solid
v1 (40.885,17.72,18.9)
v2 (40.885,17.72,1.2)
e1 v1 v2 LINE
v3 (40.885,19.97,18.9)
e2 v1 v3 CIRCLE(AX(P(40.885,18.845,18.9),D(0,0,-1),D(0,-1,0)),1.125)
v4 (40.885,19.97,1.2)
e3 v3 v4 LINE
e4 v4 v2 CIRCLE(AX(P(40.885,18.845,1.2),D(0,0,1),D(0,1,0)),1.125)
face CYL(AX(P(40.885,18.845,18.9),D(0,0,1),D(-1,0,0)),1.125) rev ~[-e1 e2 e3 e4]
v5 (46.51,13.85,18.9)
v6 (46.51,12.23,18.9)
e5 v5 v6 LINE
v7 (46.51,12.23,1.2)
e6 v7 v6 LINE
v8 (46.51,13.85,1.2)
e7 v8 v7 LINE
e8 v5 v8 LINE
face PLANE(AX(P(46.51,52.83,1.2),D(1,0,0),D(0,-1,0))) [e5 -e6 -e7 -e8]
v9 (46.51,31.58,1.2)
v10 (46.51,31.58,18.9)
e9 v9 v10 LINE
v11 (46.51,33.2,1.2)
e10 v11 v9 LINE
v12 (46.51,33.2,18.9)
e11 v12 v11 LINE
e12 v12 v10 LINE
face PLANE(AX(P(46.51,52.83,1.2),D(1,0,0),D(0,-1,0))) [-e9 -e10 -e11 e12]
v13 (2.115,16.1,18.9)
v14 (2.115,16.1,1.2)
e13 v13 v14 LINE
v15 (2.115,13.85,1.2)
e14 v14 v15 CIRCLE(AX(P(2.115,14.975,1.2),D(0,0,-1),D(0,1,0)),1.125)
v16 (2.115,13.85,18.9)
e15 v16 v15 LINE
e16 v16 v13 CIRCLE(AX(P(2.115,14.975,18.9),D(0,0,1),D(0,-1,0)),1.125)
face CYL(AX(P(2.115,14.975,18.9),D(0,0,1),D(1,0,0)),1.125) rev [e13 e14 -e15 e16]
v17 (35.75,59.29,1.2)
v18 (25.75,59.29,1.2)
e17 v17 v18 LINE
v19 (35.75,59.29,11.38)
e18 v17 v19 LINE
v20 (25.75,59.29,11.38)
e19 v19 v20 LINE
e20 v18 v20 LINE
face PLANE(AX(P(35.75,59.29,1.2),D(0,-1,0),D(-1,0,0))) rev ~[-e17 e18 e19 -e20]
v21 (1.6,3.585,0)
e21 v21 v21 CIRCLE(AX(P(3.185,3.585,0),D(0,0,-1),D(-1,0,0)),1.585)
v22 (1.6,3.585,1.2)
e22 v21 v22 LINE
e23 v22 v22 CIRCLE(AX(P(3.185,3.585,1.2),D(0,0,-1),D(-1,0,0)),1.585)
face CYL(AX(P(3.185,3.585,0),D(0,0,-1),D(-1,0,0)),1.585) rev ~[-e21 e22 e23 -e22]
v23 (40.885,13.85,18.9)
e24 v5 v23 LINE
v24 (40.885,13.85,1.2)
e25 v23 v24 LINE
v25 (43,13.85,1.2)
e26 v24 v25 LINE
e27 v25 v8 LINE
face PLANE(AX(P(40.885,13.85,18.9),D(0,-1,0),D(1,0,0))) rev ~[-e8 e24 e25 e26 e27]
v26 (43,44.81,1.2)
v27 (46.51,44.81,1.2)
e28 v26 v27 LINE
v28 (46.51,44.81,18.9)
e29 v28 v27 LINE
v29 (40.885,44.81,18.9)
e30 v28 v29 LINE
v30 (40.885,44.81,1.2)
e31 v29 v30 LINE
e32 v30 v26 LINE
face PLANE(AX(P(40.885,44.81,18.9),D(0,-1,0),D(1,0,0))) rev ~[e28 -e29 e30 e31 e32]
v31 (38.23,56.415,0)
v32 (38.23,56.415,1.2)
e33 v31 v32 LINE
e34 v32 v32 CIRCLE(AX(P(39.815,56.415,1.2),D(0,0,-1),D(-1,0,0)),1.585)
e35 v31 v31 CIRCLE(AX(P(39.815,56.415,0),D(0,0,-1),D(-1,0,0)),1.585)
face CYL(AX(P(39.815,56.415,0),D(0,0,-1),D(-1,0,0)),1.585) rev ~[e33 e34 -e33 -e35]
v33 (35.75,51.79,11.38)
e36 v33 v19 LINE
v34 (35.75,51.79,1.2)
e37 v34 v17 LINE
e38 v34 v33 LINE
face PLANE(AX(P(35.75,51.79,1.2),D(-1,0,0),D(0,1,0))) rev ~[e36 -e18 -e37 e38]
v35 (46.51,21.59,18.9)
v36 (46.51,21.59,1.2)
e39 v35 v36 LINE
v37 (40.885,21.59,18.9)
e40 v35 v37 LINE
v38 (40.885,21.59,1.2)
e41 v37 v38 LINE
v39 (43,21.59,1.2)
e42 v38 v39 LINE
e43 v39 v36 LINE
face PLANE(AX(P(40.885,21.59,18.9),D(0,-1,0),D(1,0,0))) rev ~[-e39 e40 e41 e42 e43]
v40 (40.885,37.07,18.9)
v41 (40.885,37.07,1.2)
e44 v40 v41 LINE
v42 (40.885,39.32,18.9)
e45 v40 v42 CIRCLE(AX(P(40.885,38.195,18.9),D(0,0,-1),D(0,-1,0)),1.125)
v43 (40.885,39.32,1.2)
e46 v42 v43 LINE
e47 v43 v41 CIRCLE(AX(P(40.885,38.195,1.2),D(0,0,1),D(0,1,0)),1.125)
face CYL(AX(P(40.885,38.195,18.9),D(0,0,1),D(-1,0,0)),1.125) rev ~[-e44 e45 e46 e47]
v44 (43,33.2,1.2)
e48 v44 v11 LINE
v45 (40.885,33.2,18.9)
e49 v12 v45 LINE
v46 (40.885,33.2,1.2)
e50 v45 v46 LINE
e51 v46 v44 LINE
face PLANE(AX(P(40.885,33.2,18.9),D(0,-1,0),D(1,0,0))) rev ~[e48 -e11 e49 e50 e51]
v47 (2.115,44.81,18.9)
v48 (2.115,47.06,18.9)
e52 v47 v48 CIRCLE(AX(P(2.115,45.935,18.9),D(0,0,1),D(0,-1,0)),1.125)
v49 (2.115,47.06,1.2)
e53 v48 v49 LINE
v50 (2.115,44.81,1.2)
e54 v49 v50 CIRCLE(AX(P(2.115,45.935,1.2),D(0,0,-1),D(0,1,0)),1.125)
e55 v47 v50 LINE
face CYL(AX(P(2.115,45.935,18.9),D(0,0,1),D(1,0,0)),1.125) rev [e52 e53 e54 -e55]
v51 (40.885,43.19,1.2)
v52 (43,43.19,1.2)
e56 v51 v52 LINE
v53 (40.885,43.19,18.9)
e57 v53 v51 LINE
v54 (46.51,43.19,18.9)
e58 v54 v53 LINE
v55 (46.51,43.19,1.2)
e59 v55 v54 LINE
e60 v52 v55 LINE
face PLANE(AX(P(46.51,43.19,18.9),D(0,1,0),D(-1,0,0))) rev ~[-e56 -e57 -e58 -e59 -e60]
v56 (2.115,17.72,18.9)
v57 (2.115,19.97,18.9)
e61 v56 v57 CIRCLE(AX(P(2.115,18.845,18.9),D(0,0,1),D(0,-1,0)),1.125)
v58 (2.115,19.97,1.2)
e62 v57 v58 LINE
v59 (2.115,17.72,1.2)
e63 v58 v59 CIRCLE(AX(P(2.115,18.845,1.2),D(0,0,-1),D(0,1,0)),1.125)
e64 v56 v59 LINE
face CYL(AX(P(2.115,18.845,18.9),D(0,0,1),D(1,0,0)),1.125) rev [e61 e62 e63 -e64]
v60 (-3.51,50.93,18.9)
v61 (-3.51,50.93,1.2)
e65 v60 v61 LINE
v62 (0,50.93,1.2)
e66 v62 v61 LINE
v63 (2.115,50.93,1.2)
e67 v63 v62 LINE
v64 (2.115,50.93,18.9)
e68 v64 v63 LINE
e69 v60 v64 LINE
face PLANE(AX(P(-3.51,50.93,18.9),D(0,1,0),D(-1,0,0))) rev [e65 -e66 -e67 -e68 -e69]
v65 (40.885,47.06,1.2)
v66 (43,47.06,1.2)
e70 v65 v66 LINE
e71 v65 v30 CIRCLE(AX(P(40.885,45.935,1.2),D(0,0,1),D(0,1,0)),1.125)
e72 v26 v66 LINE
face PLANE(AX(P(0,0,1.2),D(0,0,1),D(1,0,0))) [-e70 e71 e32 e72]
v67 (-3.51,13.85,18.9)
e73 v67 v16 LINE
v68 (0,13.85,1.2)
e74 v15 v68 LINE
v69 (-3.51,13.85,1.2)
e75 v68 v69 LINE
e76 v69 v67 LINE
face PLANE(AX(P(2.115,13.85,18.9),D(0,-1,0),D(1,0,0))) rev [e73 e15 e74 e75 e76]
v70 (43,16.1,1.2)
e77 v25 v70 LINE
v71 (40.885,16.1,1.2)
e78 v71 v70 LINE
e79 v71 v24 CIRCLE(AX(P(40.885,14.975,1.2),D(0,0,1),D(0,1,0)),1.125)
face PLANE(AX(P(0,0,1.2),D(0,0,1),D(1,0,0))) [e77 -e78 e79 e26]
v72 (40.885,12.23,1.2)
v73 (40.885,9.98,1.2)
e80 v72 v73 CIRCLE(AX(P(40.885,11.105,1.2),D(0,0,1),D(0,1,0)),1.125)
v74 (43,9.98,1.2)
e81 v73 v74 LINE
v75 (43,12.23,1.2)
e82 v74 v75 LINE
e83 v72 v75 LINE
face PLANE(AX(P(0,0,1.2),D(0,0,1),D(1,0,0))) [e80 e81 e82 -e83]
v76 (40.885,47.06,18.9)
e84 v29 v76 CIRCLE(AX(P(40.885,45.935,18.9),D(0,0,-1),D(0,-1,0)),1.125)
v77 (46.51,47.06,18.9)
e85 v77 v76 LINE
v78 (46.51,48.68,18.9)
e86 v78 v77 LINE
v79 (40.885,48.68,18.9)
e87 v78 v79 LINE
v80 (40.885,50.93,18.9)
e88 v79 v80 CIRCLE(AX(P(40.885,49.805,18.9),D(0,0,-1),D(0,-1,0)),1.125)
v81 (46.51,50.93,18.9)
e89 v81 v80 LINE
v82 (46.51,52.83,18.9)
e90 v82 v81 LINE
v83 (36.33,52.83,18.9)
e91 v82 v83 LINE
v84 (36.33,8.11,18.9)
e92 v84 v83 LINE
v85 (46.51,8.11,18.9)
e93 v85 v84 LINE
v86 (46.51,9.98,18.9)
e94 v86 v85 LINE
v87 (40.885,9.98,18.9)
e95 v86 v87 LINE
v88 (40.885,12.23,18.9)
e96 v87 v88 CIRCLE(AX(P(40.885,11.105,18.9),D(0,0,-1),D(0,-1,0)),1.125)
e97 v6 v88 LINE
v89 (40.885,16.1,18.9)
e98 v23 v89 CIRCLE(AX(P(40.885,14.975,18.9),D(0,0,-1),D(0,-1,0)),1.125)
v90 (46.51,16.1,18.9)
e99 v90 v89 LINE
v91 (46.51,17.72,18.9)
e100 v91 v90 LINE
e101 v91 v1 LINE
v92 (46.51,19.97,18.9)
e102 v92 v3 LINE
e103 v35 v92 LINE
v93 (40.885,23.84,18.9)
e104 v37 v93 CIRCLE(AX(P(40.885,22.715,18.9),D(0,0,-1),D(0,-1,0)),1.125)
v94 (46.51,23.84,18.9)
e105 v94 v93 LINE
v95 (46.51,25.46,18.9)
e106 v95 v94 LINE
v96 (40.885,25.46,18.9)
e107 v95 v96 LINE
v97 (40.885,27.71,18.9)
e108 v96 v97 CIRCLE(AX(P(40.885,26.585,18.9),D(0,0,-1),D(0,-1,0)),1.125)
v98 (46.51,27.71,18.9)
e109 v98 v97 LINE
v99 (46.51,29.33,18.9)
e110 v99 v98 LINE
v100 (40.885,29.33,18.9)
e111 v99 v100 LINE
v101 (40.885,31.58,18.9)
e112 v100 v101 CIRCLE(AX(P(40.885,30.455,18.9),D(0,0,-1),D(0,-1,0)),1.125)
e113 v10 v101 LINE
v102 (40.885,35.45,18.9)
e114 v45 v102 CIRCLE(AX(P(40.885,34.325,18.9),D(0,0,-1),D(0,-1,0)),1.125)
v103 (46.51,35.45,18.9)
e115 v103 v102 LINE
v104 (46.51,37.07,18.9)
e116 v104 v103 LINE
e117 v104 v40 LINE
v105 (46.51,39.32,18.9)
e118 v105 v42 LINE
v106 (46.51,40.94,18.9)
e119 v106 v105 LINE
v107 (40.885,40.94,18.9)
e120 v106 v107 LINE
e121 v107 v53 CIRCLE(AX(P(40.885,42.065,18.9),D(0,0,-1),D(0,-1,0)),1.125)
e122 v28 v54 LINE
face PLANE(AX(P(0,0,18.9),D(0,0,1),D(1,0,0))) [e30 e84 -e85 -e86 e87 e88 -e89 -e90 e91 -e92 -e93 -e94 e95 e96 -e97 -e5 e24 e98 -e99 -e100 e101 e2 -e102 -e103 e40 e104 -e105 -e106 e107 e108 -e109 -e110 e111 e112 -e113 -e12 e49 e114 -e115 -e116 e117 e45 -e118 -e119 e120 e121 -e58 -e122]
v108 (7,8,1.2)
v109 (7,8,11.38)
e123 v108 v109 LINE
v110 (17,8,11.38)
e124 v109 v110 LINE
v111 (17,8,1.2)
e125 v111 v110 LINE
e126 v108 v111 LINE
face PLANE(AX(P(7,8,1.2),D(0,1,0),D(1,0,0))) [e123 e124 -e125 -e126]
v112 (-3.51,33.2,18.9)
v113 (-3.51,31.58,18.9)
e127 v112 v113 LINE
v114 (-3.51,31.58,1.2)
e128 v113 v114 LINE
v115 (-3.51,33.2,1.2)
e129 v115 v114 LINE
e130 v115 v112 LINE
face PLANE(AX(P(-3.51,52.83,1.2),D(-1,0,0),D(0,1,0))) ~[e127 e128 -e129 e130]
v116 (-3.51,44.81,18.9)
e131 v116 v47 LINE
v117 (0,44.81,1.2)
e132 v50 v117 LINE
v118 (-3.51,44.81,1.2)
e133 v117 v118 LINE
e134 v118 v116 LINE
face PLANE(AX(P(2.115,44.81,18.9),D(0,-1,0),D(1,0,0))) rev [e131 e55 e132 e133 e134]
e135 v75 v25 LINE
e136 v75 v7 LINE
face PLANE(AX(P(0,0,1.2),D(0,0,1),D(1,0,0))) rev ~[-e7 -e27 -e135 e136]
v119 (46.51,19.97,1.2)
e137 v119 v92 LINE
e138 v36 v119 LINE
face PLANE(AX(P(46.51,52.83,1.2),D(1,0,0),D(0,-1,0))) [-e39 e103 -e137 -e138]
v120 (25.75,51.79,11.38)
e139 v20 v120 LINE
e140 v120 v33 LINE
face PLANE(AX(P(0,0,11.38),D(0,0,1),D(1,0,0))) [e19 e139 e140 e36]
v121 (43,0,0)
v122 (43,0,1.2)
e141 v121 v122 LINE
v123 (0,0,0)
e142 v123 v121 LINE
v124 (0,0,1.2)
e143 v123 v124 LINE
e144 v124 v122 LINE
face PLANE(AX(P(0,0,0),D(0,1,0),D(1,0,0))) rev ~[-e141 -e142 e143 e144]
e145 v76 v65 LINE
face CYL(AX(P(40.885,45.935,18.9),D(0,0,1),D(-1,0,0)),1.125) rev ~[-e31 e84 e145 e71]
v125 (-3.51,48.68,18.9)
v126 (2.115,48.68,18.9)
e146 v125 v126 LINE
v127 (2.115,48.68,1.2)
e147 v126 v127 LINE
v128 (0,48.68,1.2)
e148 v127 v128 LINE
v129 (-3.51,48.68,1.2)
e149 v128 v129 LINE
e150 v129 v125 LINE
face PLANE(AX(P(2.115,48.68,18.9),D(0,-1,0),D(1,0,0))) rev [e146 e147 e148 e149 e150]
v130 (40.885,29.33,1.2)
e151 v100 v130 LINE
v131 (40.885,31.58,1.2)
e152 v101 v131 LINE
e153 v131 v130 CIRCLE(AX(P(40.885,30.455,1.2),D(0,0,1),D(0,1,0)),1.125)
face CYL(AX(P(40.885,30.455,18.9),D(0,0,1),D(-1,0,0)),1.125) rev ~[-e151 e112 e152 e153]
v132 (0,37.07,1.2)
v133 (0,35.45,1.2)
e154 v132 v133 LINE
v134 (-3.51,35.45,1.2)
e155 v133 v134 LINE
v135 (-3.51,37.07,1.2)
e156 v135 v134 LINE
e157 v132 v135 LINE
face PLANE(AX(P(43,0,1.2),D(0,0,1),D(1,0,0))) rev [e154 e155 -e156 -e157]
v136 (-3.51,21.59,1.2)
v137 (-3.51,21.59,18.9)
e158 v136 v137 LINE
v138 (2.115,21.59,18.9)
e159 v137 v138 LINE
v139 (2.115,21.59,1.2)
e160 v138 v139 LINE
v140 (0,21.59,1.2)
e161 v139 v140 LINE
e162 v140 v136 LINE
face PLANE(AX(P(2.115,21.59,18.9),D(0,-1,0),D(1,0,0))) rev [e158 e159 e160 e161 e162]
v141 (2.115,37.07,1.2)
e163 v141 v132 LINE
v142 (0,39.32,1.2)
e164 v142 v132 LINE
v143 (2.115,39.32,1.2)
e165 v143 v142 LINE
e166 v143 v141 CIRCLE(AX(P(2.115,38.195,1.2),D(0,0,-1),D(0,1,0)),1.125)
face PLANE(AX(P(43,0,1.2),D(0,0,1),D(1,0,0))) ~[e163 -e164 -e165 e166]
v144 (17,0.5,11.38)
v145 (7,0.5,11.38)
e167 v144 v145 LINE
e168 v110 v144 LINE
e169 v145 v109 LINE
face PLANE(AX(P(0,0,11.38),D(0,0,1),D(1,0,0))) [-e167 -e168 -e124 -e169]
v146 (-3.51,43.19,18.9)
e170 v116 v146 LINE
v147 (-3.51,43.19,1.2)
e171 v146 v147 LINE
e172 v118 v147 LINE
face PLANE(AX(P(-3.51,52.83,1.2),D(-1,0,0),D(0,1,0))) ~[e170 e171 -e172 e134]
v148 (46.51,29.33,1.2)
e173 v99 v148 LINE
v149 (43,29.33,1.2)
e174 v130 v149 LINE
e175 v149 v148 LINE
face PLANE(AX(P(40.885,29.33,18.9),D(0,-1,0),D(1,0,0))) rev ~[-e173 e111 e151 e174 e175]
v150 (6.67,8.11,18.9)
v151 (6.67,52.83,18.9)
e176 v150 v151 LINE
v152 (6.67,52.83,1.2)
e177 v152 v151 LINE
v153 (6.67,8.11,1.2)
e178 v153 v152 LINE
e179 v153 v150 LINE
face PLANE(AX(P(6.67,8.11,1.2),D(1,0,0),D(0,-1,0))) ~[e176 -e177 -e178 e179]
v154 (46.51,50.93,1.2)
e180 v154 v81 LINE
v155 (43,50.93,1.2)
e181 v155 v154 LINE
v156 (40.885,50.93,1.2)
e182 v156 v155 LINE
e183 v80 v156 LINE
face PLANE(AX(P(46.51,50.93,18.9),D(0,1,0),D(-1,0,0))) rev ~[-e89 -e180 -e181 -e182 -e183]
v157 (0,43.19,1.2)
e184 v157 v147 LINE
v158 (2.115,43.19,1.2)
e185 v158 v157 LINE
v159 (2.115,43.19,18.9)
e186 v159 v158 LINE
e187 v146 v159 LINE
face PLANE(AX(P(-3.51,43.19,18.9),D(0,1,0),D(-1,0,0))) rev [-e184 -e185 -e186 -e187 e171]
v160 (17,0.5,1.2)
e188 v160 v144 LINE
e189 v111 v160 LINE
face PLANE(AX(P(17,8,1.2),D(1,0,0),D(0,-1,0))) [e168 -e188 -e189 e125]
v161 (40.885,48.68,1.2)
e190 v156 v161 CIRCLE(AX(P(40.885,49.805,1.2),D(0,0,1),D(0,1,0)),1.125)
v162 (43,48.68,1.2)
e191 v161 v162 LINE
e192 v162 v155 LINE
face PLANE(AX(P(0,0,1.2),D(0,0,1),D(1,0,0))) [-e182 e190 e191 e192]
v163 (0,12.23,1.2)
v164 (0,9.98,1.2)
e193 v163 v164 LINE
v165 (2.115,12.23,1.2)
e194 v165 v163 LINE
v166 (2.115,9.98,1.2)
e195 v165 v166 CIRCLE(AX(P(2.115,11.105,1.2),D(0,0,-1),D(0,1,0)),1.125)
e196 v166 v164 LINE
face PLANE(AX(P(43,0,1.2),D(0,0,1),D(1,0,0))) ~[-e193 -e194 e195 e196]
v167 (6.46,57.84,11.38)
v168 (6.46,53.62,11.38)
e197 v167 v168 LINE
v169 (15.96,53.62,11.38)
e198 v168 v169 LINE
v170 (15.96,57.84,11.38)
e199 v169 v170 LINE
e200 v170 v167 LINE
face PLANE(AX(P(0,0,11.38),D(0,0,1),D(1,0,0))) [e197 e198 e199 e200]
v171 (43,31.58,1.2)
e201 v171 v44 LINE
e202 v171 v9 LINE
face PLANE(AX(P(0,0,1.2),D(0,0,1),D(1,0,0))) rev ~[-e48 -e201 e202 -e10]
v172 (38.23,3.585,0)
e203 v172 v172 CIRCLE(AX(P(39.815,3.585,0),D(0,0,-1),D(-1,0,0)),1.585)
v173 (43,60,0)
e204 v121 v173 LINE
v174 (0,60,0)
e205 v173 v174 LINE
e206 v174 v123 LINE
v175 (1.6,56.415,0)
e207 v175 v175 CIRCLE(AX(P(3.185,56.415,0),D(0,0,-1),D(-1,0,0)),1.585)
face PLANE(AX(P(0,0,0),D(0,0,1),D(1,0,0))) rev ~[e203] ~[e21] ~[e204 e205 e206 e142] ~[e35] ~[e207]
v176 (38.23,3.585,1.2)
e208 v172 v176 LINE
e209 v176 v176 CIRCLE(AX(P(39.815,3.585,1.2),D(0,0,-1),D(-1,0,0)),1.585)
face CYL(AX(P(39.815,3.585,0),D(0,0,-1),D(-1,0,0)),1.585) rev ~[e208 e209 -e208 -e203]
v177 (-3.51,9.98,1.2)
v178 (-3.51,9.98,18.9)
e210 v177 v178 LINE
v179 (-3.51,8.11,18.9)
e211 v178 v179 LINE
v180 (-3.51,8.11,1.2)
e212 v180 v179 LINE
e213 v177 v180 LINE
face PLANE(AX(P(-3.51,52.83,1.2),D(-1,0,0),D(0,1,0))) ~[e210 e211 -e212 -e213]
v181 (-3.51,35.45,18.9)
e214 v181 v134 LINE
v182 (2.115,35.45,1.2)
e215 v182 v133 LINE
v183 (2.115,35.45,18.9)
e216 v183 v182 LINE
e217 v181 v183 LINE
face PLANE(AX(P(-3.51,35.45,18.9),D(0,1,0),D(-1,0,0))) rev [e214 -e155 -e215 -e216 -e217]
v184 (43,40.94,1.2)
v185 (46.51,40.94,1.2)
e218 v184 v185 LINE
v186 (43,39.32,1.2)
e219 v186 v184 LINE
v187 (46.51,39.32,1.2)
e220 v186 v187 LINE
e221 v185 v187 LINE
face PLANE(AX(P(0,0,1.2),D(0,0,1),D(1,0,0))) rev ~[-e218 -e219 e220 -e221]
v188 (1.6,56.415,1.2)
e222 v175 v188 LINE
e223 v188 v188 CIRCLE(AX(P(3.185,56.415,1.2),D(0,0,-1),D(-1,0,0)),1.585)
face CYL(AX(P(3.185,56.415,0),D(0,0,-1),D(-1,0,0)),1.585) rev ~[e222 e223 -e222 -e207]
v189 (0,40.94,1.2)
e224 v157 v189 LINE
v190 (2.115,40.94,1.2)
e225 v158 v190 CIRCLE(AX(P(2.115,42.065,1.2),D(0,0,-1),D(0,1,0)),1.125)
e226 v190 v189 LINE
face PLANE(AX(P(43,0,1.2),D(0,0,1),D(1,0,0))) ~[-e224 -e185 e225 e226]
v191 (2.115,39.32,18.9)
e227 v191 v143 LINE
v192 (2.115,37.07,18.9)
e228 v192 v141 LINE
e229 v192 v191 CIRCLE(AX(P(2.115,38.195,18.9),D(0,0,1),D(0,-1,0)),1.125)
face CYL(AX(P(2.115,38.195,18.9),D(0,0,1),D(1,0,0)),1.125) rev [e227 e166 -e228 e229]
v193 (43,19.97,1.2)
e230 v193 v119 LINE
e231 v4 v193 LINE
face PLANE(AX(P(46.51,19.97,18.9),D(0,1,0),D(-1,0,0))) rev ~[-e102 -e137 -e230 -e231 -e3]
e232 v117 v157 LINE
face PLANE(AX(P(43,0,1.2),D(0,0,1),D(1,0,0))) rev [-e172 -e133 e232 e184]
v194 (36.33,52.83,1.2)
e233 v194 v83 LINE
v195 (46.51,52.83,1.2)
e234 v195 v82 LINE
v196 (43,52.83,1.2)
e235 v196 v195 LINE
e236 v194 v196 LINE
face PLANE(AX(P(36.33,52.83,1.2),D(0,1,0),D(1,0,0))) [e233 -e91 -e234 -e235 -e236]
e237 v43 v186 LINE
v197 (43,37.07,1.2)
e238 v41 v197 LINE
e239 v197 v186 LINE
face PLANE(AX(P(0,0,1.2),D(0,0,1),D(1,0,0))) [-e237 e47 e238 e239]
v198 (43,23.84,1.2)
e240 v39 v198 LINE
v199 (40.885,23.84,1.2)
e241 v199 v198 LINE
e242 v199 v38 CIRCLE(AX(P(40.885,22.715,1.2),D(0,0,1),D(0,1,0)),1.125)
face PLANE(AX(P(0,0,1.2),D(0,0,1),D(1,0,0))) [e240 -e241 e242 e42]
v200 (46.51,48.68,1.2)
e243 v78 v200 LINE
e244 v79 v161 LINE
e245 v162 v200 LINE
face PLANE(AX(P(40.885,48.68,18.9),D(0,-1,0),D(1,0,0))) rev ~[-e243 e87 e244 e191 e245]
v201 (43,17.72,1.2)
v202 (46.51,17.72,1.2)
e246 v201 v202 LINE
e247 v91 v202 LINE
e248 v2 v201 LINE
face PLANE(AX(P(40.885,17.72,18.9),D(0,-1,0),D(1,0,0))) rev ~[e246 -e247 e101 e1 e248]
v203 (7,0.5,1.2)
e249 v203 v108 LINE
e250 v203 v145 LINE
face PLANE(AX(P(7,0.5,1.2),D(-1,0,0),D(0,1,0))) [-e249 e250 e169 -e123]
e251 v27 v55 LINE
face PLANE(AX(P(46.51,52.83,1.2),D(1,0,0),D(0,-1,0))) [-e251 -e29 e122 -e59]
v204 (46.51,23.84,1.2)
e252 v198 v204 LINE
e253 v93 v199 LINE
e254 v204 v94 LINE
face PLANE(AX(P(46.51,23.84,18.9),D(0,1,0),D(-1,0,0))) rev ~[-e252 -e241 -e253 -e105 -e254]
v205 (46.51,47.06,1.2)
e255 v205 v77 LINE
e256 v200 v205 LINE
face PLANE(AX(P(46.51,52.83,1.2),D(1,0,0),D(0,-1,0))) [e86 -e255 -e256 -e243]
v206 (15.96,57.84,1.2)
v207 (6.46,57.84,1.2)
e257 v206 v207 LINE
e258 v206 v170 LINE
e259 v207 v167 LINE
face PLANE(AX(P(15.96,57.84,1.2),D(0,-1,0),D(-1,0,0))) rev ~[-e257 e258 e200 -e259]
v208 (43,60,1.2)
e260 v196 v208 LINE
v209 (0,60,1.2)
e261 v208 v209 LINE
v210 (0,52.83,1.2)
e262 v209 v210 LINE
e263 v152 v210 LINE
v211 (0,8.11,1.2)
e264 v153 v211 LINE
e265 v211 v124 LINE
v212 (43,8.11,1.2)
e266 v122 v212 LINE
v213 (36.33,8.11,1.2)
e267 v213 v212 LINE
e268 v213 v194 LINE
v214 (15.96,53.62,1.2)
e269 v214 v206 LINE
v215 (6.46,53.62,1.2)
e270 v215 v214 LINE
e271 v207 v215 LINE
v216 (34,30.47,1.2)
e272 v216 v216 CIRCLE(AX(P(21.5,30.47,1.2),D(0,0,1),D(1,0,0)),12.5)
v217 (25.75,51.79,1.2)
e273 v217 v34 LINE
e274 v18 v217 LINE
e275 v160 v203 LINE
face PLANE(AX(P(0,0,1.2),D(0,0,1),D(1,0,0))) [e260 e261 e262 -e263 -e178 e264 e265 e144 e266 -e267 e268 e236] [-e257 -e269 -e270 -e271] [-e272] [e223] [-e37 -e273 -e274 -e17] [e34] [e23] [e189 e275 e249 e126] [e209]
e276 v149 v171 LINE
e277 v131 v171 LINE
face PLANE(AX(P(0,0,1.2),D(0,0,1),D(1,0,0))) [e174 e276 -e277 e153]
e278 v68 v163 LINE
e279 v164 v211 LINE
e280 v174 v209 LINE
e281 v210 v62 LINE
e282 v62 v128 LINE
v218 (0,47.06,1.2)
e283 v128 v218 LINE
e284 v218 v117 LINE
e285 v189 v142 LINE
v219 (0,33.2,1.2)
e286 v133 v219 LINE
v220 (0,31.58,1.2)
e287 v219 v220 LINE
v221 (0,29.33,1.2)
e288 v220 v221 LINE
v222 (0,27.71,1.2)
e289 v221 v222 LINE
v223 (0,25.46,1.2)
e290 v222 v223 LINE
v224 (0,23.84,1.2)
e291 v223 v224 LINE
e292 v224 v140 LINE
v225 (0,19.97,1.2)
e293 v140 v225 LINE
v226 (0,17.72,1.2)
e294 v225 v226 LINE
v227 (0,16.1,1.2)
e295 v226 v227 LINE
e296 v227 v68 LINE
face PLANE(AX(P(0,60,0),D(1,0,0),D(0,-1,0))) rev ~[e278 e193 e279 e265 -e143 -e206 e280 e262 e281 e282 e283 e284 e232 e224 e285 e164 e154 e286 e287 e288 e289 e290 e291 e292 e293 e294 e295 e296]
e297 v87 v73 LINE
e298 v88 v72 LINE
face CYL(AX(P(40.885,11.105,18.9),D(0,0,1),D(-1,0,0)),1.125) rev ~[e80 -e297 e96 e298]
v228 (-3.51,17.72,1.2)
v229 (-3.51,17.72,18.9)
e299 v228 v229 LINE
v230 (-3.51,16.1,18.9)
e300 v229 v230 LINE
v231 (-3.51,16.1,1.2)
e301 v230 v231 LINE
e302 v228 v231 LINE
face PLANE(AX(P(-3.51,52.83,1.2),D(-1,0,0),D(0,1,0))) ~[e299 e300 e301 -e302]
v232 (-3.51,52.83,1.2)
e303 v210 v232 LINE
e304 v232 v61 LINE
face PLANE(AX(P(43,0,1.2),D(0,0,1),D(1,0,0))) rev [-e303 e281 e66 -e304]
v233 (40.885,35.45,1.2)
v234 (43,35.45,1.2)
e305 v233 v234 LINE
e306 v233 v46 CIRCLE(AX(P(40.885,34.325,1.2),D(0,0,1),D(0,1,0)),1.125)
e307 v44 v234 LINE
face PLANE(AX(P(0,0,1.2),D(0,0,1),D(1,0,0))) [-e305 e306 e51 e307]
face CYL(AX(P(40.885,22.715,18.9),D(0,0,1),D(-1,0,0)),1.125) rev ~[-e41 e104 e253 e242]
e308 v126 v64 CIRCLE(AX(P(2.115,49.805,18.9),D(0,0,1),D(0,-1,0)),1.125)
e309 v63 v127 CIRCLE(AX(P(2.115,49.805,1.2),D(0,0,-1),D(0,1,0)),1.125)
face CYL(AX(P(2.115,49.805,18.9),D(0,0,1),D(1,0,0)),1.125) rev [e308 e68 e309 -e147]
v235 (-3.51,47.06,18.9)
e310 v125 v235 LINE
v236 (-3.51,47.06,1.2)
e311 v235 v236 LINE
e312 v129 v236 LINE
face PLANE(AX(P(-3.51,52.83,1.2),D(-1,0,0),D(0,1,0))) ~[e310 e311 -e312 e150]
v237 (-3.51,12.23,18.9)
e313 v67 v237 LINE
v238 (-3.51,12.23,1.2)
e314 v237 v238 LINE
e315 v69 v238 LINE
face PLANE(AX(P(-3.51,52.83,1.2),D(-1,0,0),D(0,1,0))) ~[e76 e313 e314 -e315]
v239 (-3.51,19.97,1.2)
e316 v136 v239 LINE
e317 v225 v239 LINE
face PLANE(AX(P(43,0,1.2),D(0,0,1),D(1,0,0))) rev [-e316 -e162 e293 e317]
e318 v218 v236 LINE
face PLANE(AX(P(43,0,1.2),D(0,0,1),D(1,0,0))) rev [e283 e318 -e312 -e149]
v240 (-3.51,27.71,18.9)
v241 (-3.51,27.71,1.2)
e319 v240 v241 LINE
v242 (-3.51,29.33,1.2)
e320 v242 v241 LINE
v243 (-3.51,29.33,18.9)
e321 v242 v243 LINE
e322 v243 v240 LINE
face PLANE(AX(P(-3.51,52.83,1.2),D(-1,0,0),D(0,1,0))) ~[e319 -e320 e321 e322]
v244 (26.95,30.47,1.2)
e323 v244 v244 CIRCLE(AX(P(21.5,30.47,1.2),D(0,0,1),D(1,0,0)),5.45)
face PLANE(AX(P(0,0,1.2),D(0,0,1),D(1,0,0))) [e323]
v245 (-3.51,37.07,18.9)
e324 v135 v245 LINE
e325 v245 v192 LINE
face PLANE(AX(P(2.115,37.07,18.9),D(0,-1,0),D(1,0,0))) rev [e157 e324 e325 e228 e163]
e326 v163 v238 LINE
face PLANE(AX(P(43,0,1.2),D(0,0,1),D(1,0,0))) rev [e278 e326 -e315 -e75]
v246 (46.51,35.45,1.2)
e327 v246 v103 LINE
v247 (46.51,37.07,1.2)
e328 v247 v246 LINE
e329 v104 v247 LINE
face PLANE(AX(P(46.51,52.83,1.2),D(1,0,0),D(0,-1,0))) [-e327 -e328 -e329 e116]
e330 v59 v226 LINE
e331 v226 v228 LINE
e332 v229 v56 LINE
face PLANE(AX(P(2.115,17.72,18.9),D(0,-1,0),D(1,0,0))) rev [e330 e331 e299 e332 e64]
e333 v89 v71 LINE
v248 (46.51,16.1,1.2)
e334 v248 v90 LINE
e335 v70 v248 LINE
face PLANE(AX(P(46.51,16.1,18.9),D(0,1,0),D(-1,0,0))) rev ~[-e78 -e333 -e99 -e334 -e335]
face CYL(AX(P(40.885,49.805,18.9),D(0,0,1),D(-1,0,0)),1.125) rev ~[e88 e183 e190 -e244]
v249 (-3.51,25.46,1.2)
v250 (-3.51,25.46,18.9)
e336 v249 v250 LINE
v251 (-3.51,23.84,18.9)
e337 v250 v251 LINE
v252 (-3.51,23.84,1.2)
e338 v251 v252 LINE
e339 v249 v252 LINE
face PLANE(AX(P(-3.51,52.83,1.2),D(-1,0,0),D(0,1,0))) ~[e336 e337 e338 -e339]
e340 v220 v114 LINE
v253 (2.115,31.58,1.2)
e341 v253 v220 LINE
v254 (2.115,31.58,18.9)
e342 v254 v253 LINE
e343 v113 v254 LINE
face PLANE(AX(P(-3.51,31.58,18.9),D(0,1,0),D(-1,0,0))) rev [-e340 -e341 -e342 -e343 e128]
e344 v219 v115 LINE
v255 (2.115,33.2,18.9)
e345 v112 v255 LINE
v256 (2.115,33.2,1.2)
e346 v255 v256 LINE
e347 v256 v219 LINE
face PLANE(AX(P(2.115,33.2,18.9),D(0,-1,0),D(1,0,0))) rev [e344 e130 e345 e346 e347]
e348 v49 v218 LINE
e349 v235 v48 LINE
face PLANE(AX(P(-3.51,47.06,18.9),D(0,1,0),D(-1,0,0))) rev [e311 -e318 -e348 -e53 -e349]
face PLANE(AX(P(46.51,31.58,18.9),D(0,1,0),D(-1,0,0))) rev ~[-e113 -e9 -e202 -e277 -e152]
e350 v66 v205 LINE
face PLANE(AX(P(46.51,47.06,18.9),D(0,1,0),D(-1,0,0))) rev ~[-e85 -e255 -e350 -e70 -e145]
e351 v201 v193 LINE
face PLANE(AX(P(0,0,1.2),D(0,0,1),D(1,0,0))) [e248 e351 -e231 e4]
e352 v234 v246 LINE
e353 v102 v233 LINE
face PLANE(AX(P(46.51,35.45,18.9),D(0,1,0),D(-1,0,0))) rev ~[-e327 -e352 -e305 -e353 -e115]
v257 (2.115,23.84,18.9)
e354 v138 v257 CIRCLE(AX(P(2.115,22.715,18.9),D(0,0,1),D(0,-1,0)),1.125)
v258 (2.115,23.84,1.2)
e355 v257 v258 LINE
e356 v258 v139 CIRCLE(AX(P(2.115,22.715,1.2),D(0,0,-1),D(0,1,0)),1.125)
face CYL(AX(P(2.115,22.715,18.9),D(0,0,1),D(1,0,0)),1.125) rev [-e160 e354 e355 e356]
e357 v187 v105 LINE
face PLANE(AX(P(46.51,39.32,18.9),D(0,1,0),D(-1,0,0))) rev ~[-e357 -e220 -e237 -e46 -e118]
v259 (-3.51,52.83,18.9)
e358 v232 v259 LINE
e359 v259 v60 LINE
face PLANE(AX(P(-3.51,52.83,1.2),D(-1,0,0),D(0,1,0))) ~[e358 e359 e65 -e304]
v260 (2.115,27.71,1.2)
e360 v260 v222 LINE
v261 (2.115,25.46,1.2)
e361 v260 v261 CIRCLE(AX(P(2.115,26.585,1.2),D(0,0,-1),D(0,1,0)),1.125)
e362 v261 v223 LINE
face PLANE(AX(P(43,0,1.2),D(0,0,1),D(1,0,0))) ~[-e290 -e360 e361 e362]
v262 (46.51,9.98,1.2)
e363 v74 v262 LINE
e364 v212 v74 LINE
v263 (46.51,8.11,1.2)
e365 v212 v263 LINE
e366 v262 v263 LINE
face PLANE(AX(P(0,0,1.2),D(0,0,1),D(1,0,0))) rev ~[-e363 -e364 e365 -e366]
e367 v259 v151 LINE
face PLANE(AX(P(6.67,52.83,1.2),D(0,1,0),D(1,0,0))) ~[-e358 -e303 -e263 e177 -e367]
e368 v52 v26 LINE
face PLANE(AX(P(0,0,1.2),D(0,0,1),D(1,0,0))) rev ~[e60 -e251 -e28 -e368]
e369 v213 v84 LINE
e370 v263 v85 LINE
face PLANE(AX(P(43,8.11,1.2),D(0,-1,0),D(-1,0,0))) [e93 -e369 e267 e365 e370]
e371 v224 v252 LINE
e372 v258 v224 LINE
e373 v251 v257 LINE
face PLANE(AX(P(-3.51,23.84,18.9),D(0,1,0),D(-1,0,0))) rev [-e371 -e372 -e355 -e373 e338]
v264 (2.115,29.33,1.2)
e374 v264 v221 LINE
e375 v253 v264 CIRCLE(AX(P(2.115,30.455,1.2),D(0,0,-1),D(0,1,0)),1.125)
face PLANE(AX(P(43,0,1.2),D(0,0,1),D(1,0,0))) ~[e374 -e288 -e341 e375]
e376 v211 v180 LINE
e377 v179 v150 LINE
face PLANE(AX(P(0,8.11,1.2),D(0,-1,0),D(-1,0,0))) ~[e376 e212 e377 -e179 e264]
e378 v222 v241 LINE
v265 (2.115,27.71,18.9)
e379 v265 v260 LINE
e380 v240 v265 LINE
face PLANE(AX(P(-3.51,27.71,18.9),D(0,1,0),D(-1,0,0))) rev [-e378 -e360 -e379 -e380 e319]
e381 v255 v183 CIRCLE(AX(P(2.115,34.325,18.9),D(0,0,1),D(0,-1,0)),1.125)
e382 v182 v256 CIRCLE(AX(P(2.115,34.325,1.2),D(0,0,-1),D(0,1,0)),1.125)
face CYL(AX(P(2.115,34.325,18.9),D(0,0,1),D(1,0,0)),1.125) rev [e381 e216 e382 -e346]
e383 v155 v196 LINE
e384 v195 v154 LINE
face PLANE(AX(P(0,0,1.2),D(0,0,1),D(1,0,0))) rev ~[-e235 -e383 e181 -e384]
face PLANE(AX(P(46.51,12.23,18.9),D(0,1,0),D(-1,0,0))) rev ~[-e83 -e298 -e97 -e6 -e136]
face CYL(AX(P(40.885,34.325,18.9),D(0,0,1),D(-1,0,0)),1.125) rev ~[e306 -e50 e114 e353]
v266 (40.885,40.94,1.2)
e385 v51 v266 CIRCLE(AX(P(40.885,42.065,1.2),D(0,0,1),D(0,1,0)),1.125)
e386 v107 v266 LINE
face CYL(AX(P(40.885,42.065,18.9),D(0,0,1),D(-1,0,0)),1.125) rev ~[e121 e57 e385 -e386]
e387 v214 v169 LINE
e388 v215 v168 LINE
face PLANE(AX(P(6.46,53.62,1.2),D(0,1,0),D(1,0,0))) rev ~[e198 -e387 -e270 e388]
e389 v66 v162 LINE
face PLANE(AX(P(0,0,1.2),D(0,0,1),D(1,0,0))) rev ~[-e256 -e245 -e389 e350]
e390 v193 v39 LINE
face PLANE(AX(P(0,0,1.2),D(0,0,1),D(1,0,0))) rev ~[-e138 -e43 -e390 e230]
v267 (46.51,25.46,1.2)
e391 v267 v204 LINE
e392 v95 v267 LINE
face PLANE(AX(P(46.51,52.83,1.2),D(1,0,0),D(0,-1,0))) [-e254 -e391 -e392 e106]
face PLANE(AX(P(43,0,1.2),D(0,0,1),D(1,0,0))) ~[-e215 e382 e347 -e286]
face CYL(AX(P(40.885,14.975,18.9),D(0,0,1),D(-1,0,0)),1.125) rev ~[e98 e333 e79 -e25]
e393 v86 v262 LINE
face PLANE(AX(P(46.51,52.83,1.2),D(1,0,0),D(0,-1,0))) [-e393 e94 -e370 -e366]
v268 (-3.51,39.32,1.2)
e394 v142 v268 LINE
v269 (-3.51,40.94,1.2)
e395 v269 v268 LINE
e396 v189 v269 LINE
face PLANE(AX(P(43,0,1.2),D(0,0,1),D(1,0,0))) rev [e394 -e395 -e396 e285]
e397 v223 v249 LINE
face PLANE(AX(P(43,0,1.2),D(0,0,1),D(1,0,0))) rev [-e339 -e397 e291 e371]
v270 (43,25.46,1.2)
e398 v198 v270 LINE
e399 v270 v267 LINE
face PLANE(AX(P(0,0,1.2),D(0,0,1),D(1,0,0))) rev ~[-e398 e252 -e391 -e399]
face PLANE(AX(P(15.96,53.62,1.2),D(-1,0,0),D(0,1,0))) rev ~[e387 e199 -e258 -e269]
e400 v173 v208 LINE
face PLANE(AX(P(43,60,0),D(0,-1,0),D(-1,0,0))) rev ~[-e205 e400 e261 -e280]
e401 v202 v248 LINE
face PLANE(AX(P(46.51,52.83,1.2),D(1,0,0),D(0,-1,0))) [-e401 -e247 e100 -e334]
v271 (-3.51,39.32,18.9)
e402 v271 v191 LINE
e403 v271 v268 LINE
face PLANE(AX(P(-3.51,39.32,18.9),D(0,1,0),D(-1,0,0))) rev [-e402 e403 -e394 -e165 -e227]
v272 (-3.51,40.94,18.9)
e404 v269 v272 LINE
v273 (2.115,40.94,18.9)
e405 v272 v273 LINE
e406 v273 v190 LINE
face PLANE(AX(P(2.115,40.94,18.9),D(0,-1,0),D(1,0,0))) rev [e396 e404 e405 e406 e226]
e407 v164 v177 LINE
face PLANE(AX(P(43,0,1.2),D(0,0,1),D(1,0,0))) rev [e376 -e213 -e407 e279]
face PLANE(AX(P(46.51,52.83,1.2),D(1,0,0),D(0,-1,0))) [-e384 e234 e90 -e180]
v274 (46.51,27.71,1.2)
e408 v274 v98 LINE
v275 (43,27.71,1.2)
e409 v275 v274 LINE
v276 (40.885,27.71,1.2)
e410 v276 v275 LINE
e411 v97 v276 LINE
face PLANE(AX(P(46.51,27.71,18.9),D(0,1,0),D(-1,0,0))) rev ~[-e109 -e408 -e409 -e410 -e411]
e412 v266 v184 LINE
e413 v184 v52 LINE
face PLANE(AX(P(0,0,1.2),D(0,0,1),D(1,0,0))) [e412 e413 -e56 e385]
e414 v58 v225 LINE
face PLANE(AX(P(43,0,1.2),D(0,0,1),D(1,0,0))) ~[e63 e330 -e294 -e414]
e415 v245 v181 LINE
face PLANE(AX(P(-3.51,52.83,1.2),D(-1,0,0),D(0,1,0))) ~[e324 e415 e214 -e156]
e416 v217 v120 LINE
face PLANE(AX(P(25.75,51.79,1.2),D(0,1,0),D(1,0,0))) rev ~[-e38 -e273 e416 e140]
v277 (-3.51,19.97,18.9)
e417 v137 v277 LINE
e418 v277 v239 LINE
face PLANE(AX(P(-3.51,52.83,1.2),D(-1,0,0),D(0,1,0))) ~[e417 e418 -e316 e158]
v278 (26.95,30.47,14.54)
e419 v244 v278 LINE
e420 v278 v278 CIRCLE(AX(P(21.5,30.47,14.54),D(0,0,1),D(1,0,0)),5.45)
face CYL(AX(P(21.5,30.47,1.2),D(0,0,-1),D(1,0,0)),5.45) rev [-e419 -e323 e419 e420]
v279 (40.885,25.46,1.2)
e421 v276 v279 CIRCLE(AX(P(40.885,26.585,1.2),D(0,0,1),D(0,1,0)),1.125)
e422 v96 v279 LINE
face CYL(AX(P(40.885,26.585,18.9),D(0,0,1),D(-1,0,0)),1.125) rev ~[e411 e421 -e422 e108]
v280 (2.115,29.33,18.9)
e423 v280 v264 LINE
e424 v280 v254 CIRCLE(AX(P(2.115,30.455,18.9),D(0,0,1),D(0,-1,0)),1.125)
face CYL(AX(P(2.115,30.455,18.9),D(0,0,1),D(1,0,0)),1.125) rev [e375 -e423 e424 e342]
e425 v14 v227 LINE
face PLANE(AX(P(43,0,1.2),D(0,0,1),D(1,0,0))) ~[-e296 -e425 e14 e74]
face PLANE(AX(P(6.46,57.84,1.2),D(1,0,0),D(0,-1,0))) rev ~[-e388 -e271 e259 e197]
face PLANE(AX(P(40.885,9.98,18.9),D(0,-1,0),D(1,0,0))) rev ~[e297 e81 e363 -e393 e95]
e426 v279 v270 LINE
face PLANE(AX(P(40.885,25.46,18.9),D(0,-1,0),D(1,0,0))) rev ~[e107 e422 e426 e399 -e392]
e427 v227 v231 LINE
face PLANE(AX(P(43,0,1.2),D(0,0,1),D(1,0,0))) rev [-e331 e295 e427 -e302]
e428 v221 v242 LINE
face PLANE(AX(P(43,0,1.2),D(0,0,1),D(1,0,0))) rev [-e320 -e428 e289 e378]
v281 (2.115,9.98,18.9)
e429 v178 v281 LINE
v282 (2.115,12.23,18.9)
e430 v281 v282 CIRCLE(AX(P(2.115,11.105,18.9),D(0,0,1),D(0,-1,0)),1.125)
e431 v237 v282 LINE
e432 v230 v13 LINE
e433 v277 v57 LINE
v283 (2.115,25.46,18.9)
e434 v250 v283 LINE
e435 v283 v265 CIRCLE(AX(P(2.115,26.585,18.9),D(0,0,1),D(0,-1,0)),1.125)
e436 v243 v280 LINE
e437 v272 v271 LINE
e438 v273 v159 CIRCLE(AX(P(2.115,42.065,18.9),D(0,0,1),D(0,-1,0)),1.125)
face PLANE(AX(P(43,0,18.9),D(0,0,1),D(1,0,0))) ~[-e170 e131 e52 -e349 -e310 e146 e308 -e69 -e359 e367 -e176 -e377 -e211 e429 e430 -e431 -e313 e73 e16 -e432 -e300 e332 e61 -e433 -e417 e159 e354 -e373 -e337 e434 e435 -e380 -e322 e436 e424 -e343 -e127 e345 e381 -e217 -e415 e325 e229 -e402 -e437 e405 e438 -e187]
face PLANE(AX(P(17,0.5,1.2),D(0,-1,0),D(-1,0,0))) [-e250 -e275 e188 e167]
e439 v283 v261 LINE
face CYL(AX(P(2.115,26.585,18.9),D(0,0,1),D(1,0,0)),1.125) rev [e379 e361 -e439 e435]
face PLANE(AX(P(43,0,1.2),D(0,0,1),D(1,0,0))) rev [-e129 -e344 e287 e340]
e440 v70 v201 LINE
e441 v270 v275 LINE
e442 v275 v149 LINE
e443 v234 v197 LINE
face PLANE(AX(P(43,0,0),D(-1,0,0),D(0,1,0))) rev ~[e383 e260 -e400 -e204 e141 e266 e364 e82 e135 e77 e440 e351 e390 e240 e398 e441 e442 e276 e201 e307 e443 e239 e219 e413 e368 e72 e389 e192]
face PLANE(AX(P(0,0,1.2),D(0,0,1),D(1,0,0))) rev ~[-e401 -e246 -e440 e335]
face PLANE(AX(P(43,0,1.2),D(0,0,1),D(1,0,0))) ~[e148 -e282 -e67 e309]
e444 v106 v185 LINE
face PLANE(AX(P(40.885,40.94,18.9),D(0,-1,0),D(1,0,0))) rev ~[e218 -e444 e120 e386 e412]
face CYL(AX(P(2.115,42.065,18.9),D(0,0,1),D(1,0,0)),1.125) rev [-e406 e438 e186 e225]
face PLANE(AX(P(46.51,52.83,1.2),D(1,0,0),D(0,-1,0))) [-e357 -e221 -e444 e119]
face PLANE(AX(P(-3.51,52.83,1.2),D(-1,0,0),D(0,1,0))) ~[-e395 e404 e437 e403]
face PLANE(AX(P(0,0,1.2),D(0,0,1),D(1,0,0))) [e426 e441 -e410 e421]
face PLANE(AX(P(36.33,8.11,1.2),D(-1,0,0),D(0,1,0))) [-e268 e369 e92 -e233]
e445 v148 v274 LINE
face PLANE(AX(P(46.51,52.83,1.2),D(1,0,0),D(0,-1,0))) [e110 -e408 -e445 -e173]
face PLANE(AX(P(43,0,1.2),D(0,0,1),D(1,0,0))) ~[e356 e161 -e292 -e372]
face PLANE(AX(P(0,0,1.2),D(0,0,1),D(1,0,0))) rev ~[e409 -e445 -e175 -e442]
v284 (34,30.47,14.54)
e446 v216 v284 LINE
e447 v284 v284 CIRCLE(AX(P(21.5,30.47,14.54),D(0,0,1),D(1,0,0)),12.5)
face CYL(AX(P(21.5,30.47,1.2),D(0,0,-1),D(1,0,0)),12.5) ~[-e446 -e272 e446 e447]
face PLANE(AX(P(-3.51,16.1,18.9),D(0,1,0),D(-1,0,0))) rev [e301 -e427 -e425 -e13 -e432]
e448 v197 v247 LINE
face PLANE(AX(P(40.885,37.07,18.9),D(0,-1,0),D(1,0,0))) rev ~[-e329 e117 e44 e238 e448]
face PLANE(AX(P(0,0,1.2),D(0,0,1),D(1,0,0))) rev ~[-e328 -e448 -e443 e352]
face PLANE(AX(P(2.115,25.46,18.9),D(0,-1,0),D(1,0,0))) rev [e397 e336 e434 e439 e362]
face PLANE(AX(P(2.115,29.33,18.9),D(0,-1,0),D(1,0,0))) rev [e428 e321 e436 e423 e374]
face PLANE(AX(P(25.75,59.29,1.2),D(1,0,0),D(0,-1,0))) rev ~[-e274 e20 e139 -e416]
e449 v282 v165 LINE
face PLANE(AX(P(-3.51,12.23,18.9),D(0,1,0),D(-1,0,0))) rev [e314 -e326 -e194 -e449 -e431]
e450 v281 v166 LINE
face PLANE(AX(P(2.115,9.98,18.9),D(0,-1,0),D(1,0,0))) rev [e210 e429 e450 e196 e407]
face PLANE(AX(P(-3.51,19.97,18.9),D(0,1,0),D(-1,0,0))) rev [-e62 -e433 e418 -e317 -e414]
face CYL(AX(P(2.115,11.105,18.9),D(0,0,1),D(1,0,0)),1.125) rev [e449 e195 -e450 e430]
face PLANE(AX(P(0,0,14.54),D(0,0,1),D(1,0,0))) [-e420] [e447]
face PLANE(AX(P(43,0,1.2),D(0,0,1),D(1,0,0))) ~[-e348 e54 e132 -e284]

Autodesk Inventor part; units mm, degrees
ref_plane "YZ Plane" through (0, 0, 0) normal (1, 0, 0) x (0, 1, 0)
ref_plane "XZ Plane" through (0, 0, 0) normal (0, 1, 0) x (-1, 0, 0)
sketch "Sketch1" plane through (0, 0, 0) normal (0, 0, 1) x (1, 0, 0)
  line L0 (0, 0) -> (43, 0)
  line L1 (43, 0) -> (43, 60)
  line L2 (43, 60) -> (0, 60)
  line L3 (0, 60) -> (0, 0)
  dimension "d0" = 43
  dimension "d1" = 60
extrude "PCB" add sketch "Sketch1" along normal blind 1.2
sketch "Sketch2" plane through (0, 0, 1.2) normal (0, 0, 1) x (1, 0, 0)
  line L0 (0, 0) -> (43, 0) projected
  line L1 (43, 0) -> (43, 60) projected
  line L2 (43, 60) -> (0, 60) projected
  line L3 (36.33, 52.83) -> (46.51, 52.83)
  line L4 (46.51, 52.83) -> (46.51, 8.11)
  line L5 (46.51, 8.11) -> (36.33, 8.11)
  line L6 (36.33, 8.11) -> (36.33, 52.83)
  dimension "d4" = 7.17
  dimension "d5" = 8.11
  dimension "d6" = 10.18
  dimension "d8" = 3.51
extrude "Heat Sinks" add sketch "Sketch2" along normal blind 17.7
ref_plane "Work Plane1" through (21.5, 0, 0) normal (-1, 0, 0) x (0, 0, 1)
mirror "Mirror1" about plane through (21.5, 0, 0) normal (-1, 0, 0) of "Heat Sinks"
sketch "Sketch3" plane through (0, 0, 0) normal (0, 0, -1) x (-1, 0, 0)
  line L0 (0, 0) -> (-43, 0) projected
  line L1 (0, 60) -> (0, 0) projected
  line L2 (-43, 60) -> (0, 60) projected
  line L3 (-43, 0) -> (-43, 60) projected
  circle A0 centre (-3.185, 3.585) radius 1.585
  circle A1 centre (-39.815, 3.585) radius 1.585
  circle A2 centre (-39.815, 56.415) radius 1.585
  circle A3 centre (-3.185, 56.415) radius 1.585
  dimension "d11" = 3.17
  dimension "d12" = 3.585
  dimension "d13" = 3.185
  dimension "d14" = 3.17
  dimension "d15" = 3.17
  dimension "d16" = 3.17
  dimension "d17" = 3.185
  dimension "d18" = 3.185
  dimension "d19" = 3.185
  dimension "d20" = 3.585
  dimension "d21" = 3.585
  dimension "d22" = 3.585
extrude "Extrusion3" cut sketch "Sketch3" against normal blind 2 contours A0 | A1 | A2 | A3
sketch "Sketch4" plane through (0, 0, 1.2) normal (0, 0, 1) x (1, 0, 0)
  line L0 (0, 8.11) -> (0, 0) projected
  line L1 (0, 0) -> (43, 0) projected
  line L2 (43, 52.83) -> (43, 60) projected
  line L3 (43, 60) -> (0, 60) projected
  line L4 (0, 60) -> (0, 52.83) projected
  line L5 (6.46, 53.62) -> (15.96, 53.62)
  line L6 (15.96, 53.62) -> (15.96, 57.84)
  line L7 (15.96, 57.84) -> (6.46, 57.84)
  line L8 (6.46, 57.84) -> (6.46, 53.62)
  line L9 (25.75, 51.79) -> (35.75, 51.79)
  line L10 (35.75, 51.79) -> (35.75, 59.29)
  line L11 (35.75, 59.29) -> (25.75, 59.29)
  line L12 (25.75, 59.29) -> (25.75, 51.79)
  line L13 (7, 8) -> (17, 8)
  line L14 (17, 8) -> (17, 0.5)
  line L15 (17, 0.5) -> (7, 0.5)
  line L16 (7, 0.5) -> (7, 8)
  dimension "d25" = 10
  dimension "d26" = 7.5
  dimension "d27" = 7.5
  dimension "d28" = 10
  dimension "d29" = 9.5
  dimension "d30" = 4.22
  dimension "d31" = 2.16
  dimension "d32" = 6.46
  dimension "d33" = 0.71
  dimension "d34" = 7.25
  dimension "d35" = 0.5
  dimension "d36" = 7
extrude "Extrusion4" add sketch "Sketch4" along normal blind 10.18
sketch "Sketch5" plane through (0, 0, 1.2) normal (0, 0, 1) x (1, 0, 0)
  line L0 (36.33, 8.11) -> (36.33, 52.83) projected
  line L1 (43, 60) -> (0, 60) projected
  circle A0 centre (21.5, 30.47) radius 12.5
  circle A1 centre (21.5, 30.47) radius 5.45
  point P0 (21.5, 60)
  point P1 (36.33, 30.47)
  dimension "d39" = 25
  dimension "d40" = 10.9
extrude "Extrusion5" add sketch "Sketch5" along normal blind 13.34
sketch "Sketch6" plane through (0, 0, 18.9) normal (0, 0, 1) x (1, 0, 0)
  line L0 (46.51, 52.83) -> (36.33, 52.83) projected
  line L1 (46.51, 8.11) -> (46.51, 52.83) projected
  line L2 (51.51, 50.93) -> (40.885, 50.93)
  line L3 (39.76, 49.805) -> (39.76, 49.805)
  line L4 (40.885, 48.68) -> (51.51, 48.68)
  line L5 (51.51, 48.68) -> (51.51, 50.93)
  arc A0 (40.885, 50.93) -> (39.76, 49.805) centre (40.885, 49.805) ccw
  arc A1 (39.76, 49.805) -> (40.885, 48.68) centre (40.885, 49.805) ccw
  line L6 (51.51, 47.06) -> (40.885, 47.06)
  line L7 (39.76, 45.935) -> (39.76, 45.935)
  line L8 (40.885, 44.81) -> (51.51, 44.81)
  line L9 (51.51, 44.81) -> (51.51, 47.06)
  arc A2 (40.885, 47.06) -> (39.76, 45.935) centre (40.885, 45.935) ccw
  arc A3 (39.76, 45.935) -> (40.885, 44.81) centre (40.885, 45.935) ccw
  line L10 (51.51, 43.19) -> (40.885, 43.19)
  line L11 (39.76, 42.065) -> (39.76, 42.065)
  line L12 (40.885, 40.94) -> (51.51, 40.94)
  line L13 (51.51, 40.94) -> (51.51, 43.19)
  arc A4 (40.885, 43.19) -> (39.76, 42.065) centre (40.885, 42.065) ccw
  arc A5 (39.76, 42.065) -> (40.885, 40.94) centre (40.885, 42.065) ccw
  line L14 (51.51, 39.32) -> (40.885, 39.32)
  line L15 (39.76, 38.195) -> (39.76, 38.195)
  line L16 (40.885, 37.07) -> (51.51, 37.07)
  line L17 (51.51, 37.07) -> (51.51, 39.32)
  arc A6 (40.885, 39.32) -> (39.76, 38.195) centre (40.885, 38.195) ccw
  arc A7 (39.76, 38.195) -> (40.885, 37.07) centre (40.885, 38.195) ccw
  line L18 (51.51, 35.45) -> (40.885, 35.45)
  line L19 (39.76, 34.325) -> (39.76, 34.325)
  line L20 (40.885, 33.2) -> (51.51, 33.2)
  line L21 (51.51, 33.2) -> (51.51, 35.45)
  arc A8 (40.885, 35.45) -> (39.76, 34.325) centre (40.885, 34.325) ccw
  arc A9 (39.76, 34.325) -> (40.885, 33.2) centre (40.885, 34.325) ccw
  line L22 (51.51, 31.58) -> (40.885, 31.58)
  line L23 (39.76, 30.455) -> (39.76, 30.455)
  line L24 (40.885, 29.33) -> (51.51, 29.33)
  line L25 (51.51, 29.33) -> (51.51, 31.58)
  arc A10 (40.885, 31.58) -> (39.76, 30.455) centre (40.885, 30.455) ccw
  arc A11 (39.76, 30.455) -> (40.885, 29.33) centre (40.885, 30.455) ccw
  line L26 (51.51, 27.71) -> (40.885, 27.71)
  line L27 (39.76, 26.585) -> (39.76, 26.585)
  line L28 (40.885, 25.46) -> (51.51, 25.46)
  line L29 (51.51, 25.46) -> (51.51, 27.71)
  arc A12 (40.885, 27.71) -> (39.76, 26.585) centre (40.885, 26.585) ccw
  arc A13 (39.76, 26.585) -> (40.885, 25.46) centre (40.885, 26.585) ccw
  line L30 (51.51, 23.84) -> (40.885, 23.84)
  line L31 (39.76, 22.715) -> (39.76, 22.715)
  line L32 (40.885, 21.59) -> (51.51, 21.59)
  line L33 (51.51, 21.59) -> (51.51, 23.84)
  arc A14 (40.885, 23.84) -> (39.76, 22.715) centre (40.885, 22.715) ccw
  arc A15 (39.76, 22.715) -> (40.885, 21.59) centre (40.885, 22.715) ccw
  line L34 (51.51, 19.97) -> (40.885, 19.97)
  line L35 (39.76, 18.845) -> (39.76, 18.845)
  line L36 (40.885, 17.72) -> (51.51, 17.72)
  line L37 (51.51, 17.72) -> (51.51, 19.97)
  arc A16 (40.885, 19.97) -> (39.76, 18.845) centre (40.885, 18.845) ccw
  arc A17 (39.76, 18.845) -> (40.885, 17.72) centre (40.885, 18.845) ccw
  line L38 (51.51, 16.1) -> (40.885, 16.1)
  line L39 (39.76, 14.975) -> (39.76, 14.975)
  line L40 (40.885, 13.85) -> (51.51, 13.85)
  line L41 (51.51, 13.85) -> (51.51, 16.1)
  arc A18 (40.885, 16.1) -> (39.76, 14.975) centre (40.885, 14.975) ccw
  arc A19 (39.76, 14.975) -> (40.885, 13.85) centre (40.885, 14.975) ccw
  line L42 (51.51, 12.23) -> (40.885, 12.23)
  line L43 (39.76, 11.105) -> (39.76, 11.105)
  line L44 (40.885, 9.98) -> (51.51, 9.98)
  line L45 (51.51, 9.98) -> (51.51, 12.23)
  arc A20 (40.885, 12.23) -> (39.76, 11.105) centre (40.885, 11.105) ccw
  arc A21 (39.76, 11.105) -> (40.885, 9.98) centre (40.885, 11.105) ccw
  point P0 (36.33, 8.11)
  point P1 (0, 0)
  dimension "d43" = 5
  dimension "d44" = 6.75
  dimension "d45" = 2.25
  dimension "d46" = 1.9
  dimension "d54" = 44.72
  dimension "d56" = 1.125
  dimension "d57" = 1.125
  dimension "d60" = 3.87
extrude "Extrusion6" cut sketch "Sketch6" against normal up to surface (17.7 mm away)
mirror "Mirror2" about plane through (21.5, 0, 0) normal (-1, 0, 0) of "Extrusion6"
equation "\"d14\" = d11"
equation "\"d15\" = d14"
equation "\"d16\" = d15"
equation "\"d17\" = d13"
equation "\"d18\" = d17"
equation "\"d19\" = d18"
equation "\"d20\" = d12"
equation "\"d21\" = d20"
equation "\"d22\" = d12"
equation "\"d27\" = d26"
equation "\"d28\" = d25"
equation "\"d56\" = 0.5 * d45"
equation "\"d57\" = d56"
properties part number "DROK_090483"
